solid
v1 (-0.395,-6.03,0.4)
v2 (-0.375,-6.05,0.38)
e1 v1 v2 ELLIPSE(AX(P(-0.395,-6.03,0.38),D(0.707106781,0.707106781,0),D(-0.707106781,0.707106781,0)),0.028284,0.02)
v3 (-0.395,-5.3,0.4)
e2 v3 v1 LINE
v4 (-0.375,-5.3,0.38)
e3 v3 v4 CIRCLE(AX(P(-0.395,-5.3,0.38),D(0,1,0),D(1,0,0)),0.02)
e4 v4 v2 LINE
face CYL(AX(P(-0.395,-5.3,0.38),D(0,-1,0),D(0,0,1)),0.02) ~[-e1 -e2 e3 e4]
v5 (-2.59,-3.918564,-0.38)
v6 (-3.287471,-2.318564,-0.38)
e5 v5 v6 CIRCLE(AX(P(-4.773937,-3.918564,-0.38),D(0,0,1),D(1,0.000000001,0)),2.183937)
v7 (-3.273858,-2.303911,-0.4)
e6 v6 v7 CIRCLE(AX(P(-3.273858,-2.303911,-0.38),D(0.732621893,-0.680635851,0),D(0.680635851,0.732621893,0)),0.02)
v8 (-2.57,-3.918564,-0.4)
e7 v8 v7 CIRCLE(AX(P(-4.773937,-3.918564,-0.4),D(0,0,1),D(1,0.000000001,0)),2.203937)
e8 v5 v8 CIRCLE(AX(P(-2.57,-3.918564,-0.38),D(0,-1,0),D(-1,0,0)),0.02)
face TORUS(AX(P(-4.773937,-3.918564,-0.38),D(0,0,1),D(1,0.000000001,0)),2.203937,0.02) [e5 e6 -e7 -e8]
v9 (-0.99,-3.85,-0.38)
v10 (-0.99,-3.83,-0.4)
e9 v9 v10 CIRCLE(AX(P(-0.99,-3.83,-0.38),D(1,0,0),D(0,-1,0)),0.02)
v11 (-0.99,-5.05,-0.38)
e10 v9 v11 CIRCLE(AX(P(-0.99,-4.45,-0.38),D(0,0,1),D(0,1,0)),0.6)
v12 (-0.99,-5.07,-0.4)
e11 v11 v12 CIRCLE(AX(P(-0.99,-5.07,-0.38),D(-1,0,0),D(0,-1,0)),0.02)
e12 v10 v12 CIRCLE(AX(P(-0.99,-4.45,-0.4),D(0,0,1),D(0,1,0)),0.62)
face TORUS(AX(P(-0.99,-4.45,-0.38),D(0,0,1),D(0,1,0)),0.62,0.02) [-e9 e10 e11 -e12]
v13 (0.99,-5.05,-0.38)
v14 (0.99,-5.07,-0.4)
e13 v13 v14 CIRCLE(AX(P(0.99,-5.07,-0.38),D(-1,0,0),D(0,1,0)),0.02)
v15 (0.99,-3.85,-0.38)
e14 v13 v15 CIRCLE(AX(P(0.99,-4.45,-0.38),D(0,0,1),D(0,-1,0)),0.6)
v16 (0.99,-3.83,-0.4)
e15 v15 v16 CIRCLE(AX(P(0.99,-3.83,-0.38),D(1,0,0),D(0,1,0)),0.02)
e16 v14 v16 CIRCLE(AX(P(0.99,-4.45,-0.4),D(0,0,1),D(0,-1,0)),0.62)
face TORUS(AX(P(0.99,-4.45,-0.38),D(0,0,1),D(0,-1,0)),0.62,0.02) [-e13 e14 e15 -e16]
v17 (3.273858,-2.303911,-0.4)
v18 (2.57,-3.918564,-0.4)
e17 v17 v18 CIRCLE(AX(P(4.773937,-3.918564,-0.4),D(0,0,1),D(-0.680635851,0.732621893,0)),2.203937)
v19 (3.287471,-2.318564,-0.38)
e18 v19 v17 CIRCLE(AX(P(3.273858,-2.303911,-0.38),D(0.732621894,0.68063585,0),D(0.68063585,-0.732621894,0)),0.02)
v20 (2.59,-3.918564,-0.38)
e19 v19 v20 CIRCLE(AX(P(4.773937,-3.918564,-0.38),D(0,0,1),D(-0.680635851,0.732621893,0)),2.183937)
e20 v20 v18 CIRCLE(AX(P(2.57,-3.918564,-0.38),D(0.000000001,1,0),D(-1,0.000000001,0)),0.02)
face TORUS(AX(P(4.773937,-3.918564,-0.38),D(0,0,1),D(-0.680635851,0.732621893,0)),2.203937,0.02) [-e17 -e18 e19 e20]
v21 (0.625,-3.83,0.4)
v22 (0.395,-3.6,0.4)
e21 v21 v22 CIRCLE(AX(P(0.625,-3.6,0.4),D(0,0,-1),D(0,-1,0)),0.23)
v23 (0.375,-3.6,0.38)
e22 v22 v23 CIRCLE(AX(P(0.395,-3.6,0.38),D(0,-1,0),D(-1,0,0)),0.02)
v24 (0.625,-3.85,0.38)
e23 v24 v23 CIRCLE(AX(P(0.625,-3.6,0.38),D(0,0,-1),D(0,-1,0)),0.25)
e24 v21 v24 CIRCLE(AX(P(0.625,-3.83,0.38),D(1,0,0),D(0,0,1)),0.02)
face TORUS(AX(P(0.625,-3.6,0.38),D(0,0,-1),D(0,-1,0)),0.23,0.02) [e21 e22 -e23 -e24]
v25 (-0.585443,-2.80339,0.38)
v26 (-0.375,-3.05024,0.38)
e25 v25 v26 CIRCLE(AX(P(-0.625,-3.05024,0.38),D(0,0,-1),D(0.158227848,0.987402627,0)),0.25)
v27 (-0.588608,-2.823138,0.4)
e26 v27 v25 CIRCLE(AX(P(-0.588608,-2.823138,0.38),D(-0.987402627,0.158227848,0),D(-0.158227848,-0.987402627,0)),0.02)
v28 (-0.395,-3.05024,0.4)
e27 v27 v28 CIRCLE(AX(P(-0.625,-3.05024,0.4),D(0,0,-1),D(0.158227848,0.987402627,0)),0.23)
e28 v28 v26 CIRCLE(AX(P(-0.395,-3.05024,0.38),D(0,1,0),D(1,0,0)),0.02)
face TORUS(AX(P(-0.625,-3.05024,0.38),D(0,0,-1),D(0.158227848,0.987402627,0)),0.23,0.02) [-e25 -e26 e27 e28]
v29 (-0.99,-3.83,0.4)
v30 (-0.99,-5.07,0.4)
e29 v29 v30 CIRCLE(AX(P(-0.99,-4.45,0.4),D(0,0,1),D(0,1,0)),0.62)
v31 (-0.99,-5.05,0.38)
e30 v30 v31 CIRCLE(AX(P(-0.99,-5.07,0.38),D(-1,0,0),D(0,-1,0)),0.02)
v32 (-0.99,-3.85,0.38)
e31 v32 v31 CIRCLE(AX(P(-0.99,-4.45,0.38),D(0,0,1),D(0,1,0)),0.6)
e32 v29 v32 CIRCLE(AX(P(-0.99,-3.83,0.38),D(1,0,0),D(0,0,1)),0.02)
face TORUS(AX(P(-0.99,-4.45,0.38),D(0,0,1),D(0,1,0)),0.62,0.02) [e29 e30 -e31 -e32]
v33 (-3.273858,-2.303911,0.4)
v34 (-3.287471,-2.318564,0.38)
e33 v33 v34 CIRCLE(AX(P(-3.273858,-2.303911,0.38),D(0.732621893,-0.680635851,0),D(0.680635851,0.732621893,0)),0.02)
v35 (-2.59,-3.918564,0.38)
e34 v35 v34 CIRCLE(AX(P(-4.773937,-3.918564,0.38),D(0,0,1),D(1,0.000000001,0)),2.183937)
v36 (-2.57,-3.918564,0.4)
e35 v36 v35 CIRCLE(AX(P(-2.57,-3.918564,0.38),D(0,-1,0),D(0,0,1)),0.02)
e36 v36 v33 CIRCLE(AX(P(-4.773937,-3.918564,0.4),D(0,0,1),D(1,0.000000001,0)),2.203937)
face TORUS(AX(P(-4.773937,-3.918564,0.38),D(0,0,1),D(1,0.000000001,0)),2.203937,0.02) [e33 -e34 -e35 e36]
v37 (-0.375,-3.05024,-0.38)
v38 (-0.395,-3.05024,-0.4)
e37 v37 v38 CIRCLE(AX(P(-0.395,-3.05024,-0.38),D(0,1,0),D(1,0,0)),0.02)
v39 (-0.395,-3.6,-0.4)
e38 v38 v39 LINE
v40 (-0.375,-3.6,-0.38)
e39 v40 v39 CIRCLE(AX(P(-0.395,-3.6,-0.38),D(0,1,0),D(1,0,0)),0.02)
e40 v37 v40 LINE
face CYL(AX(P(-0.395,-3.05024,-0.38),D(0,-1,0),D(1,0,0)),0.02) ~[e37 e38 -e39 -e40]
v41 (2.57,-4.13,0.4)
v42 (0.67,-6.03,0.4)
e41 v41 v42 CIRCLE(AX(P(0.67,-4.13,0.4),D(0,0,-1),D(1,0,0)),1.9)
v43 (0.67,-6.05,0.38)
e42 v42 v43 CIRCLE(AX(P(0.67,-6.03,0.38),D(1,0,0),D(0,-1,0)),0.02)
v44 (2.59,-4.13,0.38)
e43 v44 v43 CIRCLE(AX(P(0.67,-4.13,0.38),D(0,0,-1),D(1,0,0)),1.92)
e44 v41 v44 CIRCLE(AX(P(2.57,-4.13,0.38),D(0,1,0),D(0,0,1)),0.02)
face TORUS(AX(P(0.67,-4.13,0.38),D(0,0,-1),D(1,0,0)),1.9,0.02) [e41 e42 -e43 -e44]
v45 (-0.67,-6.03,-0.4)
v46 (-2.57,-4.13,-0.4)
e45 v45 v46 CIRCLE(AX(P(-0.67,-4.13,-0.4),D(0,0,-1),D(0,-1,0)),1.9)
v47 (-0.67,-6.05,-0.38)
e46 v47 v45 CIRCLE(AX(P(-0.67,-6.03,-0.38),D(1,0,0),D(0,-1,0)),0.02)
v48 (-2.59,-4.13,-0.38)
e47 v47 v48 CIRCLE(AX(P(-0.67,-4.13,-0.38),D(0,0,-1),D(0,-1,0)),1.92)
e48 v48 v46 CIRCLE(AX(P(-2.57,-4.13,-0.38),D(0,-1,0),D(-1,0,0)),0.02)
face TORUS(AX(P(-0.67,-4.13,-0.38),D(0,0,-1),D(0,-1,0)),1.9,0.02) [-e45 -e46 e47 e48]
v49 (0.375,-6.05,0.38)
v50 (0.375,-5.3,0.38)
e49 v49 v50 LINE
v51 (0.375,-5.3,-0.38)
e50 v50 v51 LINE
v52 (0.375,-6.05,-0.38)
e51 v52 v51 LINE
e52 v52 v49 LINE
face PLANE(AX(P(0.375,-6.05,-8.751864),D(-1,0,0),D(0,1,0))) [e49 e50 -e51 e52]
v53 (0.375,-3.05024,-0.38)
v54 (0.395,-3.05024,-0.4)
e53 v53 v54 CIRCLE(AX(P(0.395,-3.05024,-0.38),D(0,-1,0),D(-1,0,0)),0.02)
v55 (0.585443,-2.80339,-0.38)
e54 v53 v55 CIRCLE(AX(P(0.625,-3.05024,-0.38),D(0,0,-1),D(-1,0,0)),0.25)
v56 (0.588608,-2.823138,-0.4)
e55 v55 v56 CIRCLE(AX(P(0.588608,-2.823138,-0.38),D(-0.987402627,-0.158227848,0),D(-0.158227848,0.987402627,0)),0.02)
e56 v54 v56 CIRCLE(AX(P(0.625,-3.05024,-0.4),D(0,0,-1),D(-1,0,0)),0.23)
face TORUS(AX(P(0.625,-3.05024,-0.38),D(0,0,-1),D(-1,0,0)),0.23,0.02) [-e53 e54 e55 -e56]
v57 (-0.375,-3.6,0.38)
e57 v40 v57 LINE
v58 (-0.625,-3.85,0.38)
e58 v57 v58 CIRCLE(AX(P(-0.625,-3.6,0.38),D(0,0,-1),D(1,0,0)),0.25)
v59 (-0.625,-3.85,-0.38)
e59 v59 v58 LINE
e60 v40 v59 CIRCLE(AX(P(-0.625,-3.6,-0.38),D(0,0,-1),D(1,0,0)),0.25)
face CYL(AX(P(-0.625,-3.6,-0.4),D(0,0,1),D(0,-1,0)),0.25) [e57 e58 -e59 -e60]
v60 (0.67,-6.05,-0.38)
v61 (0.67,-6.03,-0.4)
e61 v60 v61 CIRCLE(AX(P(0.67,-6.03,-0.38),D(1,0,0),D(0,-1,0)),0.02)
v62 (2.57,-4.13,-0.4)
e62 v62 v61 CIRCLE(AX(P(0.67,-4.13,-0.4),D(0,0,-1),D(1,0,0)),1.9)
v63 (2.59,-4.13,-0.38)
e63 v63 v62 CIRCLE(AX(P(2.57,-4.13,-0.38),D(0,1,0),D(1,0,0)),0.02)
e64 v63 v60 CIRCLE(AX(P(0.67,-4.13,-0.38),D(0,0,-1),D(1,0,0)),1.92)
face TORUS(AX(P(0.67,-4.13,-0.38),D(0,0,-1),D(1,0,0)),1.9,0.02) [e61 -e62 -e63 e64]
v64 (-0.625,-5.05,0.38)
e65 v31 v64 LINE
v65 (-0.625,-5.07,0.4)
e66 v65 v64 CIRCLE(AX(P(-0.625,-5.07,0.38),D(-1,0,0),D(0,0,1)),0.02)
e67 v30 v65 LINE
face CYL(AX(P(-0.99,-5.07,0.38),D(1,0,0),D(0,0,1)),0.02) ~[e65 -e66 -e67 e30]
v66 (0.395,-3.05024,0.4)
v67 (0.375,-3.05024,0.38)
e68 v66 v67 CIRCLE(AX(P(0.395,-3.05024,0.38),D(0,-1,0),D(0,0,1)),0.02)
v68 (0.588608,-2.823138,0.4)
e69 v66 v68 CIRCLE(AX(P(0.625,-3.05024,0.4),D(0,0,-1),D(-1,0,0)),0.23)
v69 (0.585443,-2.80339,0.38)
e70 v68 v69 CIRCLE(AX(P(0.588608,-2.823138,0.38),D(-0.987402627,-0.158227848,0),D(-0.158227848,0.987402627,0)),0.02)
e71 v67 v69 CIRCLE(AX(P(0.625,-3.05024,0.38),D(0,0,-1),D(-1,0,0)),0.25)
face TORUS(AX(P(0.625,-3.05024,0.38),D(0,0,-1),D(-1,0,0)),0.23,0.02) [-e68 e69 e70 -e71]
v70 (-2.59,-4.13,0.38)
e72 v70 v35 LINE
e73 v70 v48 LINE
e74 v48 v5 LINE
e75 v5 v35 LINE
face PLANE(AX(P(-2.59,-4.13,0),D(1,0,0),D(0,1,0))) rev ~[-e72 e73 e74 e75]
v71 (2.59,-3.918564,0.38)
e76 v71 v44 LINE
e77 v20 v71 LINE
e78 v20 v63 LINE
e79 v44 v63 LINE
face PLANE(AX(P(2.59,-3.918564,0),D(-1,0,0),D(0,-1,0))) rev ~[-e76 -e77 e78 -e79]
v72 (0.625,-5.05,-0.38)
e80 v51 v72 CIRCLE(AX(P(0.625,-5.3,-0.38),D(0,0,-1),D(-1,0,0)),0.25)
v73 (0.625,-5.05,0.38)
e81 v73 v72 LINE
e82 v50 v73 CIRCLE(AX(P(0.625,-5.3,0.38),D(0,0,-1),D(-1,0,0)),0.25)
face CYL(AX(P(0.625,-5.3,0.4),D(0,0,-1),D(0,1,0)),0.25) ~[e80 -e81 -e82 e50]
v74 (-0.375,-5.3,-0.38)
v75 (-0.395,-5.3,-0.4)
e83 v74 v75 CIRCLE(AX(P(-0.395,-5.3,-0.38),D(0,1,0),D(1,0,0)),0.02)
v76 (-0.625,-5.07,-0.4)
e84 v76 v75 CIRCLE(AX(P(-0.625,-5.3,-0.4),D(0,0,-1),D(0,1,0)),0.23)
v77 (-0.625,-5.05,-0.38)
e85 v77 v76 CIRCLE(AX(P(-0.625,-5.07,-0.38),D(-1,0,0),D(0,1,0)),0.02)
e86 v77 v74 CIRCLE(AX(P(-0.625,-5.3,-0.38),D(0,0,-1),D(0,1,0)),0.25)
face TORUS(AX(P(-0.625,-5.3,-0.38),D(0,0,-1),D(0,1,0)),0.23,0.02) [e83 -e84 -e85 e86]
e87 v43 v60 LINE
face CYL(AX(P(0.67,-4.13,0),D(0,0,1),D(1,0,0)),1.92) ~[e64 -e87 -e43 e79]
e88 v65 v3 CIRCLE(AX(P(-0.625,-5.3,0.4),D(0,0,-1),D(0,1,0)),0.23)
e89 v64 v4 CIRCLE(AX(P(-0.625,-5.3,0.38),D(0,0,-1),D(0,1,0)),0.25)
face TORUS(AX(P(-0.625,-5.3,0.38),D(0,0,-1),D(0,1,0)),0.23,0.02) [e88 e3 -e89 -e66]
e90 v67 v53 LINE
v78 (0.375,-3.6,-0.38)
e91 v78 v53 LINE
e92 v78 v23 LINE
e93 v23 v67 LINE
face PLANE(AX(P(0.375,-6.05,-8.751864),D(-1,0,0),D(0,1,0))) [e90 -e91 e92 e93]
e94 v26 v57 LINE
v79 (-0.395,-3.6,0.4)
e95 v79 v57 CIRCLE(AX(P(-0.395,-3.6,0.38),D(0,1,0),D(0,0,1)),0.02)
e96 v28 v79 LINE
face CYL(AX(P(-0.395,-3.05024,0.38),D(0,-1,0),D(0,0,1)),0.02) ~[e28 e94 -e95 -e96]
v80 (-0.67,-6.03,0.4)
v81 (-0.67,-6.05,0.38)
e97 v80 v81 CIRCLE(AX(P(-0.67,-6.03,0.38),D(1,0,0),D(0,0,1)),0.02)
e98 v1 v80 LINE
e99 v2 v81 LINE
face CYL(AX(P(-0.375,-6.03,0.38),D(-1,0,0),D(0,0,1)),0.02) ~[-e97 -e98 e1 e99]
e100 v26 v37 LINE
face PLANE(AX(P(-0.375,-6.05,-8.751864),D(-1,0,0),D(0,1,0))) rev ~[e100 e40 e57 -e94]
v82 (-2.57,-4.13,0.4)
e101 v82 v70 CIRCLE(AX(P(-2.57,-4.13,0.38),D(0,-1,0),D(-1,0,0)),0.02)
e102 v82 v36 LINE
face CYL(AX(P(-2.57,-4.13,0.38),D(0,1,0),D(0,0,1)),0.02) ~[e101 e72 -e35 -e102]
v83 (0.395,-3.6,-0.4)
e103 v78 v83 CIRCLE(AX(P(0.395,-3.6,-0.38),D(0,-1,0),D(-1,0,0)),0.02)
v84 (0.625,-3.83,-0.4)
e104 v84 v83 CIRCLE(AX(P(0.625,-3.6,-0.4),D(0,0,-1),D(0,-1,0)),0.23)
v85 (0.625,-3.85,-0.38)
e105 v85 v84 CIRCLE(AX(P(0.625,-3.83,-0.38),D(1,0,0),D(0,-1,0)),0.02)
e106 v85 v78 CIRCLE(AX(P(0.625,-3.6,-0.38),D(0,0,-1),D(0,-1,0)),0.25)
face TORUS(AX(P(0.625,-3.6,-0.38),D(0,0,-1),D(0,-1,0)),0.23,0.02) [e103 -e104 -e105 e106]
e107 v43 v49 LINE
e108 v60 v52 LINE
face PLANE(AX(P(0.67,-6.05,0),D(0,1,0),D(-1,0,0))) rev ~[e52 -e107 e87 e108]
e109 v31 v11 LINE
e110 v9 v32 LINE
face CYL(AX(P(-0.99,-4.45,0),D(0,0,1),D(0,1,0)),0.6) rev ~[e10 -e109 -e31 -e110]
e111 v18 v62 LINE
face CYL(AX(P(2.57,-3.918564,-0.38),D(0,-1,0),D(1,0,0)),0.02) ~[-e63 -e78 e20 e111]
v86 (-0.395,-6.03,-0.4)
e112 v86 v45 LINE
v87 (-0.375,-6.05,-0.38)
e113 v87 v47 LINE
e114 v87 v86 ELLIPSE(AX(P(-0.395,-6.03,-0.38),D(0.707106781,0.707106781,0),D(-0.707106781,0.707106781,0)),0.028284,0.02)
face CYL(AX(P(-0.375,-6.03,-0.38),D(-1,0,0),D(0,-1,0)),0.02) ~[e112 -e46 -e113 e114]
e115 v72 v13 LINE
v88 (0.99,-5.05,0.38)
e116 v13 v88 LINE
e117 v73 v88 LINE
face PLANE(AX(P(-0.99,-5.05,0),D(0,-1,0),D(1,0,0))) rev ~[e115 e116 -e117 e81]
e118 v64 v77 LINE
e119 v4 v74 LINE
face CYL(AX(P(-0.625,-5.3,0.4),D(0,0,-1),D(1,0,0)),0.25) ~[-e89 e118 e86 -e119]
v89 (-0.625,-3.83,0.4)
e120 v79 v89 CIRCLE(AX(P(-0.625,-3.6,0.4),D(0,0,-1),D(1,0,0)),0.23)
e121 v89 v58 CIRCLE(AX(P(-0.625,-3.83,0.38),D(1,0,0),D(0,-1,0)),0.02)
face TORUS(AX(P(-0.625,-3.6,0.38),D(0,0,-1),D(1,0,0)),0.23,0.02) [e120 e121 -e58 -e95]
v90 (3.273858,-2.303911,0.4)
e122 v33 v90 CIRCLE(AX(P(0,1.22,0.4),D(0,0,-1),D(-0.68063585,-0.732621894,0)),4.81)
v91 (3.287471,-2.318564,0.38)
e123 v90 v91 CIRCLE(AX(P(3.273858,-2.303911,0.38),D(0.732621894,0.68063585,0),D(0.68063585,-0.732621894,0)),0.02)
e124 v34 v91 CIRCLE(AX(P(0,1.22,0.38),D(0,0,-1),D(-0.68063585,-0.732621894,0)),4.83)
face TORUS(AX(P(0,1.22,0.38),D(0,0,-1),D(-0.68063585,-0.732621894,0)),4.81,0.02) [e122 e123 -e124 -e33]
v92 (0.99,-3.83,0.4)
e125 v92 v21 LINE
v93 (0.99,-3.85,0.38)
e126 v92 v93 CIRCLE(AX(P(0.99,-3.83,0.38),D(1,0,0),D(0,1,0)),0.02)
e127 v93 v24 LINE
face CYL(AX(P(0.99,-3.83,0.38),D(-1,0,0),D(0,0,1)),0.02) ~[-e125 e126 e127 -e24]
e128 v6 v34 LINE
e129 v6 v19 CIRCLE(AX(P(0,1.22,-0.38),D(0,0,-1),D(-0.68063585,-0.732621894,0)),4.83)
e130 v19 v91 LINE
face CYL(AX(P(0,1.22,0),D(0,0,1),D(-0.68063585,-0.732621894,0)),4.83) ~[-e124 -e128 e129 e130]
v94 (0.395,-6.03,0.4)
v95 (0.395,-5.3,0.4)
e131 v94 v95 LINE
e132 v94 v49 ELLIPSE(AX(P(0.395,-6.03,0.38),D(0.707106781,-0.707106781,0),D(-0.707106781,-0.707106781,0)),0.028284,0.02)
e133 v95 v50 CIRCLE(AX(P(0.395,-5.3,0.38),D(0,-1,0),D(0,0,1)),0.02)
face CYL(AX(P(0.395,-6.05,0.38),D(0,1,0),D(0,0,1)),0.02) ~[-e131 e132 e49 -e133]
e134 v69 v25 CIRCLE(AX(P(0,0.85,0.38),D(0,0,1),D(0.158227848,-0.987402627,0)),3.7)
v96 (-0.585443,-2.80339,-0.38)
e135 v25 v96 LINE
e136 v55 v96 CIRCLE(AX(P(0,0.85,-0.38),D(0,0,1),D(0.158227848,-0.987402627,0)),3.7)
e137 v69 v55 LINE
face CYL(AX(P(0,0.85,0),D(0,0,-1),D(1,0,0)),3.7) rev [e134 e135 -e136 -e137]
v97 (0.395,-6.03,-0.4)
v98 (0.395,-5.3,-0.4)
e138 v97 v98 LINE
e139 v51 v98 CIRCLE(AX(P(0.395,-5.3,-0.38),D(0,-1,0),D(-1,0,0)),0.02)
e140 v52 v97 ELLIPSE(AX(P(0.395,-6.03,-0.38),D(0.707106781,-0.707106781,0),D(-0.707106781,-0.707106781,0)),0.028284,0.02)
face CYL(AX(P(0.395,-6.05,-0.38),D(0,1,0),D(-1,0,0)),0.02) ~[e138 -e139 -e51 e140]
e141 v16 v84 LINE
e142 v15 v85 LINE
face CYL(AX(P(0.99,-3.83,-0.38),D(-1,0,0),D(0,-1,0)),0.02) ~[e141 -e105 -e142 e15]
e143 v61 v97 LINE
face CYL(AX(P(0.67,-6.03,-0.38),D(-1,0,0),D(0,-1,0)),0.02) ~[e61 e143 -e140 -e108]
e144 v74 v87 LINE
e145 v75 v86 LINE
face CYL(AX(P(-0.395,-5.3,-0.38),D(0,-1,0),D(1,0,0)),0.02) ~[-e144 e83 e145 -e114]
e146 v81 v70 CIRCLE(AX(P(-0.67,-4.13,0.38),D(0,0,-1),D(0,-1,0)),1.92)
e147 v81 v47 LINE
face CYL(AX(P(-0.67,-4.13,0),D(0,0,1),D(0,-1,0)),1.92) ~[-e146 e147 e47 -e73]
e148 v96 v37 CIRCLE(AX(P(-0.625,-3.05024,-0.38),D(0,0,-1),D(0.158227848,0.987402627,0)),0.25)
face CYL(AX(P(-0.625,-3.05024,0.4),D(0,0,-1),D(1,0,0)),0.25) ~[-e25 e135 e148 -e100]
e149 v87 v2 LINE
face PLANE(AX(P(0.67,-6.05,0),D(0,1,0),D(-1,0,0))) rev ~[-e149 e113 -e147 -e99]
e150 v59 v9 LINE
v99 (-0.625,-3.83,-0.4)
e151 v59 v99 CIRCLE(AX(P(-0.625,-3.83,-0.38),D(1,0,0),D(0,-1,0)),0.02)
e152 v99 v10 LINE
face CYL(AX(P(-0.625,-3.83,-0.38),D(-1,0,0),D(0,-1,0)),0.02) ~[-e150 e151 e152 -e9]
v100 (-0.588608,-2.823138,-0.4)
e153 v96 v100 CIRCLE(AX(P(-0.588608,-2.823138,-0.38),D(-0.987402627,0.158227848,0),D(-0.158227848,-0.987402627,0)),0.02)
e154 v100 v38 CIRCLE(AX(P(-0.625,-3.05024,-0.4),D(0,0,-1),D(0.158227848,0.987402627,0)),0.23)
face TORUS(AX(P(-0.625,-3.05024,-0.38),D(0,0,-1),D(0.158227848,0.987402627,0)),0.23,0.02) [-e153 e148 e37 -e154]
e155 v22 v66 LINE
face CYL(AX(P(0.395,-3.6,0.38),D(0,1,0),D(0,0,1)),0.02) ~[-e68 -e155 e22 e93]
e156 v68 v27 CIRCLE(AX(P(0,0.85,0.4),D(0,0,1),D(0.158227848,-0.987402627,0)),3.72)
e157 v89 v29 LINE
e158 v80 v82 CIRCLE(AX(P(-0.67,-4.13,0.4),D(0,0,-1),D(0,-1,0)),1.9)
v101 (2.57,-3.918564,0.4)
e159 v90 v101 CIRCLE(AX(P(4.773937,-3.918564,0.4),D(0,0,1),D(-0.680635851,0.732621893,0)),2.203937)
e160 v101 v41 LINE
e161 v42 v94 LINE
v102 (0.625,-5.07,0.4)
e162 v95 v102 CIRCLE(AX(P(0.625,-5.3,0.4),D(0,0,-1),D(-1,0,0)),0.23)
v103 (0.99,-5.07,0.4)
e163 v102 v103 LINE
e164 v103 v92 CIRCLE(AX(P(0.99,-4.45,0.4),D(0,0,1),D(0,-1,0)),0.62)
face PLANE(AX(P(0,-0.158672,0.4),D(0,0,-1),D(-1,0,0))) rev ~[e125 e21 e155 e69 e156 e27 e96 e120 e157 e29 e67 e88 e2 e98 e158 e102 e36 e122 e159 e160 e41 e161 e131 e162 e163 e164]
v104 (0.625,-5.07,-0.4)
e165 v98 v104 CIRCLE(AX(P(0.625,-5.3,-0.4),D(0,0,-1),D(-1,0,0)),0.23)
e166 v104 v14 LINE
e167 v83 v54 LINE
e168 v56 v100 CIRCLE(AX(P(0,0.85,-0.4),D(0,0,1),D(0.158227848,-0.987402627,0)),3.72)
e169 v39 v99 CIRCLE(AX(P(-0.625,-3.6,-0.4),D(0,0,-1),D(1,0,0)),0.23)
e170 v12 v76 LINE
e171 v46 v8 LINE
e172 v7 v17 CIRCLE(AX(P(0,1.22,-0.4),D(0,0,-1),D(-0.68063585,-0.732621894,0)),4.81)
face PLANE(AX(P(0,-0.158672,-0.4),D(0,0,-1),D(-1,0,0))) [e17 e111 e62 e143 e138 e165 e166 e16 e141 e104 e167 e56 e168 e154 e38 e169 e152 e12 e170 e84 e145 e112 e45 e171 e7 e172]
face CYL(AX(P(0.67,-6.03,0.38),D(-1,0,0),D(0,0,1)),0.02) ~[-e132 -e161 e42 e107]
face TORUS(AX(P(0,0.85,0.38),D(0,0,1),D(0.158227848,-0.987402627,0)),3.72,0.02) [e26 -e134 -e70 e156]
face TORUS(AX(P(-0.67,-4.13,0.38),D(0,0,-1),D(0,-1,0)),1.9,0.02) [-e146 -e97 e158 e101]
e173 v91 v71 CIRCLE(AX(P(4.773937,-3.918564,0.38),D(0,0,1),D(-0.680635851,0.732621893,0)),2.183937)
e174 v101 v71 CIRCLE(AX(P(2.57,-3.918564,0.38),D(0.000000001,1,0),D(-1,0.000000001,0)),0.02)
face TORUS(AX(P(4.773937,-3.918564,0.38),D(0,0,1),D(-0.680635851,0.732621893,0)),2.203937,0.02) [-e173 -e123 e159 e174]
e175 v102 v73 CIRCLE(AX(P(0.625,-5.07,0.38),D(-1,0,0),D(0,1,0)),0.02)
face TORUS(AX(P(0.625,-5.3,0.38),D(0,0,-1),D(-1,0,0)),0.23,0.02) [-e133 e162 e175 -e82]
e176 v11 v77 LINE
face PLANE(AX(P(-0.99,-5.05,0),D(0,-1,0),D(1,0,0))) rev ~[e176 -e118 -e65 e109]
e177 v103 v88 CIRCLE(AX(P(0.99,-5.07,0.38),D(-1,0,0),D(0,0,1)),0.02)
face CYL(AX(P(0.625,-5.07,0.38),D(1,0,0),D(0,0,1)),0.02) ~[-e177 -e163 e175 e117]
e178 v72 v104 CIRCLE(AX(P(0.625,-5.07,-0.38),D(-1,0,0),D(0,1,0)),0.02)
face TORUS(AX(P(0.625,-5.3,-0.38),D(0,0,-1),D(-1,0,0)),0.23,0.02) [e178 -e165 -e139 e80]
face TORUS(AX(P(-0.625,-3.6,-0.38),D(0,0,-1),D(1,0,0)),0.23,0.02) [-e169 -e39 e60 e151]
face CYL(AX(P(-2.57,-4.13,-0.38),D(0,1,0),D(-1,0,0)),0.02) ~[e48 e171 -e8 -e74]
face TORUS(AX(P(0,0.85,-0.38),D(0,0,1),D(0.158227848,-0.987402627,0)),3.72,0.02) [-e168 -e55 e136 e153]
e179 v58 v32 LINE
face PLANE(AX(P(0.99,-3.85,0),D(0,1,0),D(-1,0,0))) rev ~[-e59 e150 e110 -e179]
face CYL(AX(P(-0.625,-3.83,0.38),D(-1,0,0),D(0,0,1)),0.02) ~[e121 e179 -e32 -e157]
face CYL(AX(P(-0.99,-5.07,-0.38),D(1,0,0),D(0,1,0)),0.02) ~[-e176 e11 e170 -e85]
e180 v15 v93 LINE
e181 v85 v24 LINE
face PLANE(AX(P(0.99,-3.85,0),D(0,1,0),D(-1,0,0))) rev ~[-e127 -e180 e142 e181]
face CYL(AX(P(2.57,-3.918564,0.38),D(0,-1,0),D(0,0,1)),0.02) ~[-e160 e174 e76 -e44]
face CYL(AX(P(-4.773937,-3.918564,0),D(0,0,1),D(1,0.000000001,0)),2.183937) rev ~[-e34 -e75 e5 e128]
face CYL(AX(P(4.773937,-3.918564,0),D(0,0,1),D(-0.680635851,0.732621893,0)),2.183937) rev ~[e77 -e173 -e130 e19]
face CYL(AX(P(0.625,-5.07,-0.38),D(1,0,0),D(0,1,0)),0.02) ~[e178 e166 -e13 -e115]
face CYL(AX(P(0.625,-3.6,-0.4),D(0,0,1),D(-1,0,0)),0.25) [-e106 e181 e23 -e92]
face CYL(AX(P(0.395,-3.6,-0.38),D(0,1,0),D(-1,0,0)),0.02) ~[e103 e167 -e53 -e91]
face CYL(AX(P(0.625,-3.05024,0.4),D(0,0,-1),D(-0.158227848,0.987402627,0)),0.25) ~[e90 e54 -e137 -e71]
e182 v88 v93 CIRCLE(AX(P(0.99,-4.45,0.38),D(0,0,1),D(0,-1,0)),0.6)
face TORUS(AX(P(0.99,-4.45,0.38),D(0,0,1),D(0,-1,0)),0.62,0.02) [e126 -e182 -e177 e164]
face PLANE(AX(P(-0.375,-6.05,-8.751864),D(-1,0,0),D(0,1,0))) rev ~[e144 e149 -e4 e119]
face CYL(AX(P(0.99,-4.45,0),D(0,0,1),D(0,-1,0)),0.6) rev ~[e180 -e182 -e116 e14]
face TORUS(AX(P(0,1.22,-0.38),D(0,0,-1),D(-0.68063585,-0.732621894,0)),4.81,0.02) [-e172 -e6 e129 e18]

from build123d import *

# Parameters (mm, degrees)
SKETCH3_R                    = 3.7
BOSS_EXTRUDE1_DEPTH          = 0.4
CUT_EXTRUDE_THIN1_DEPTH      = 8.751864292
CUT_EXTRUDE_THIN1_DEPTH_BACK = 8.751864292
SKETCH4_W                    = 0.75
SKETCH4_H                    = 6.9
FILLET2_R                    = 0.25
FILLET1_R                    = 0.02


with BuildPart() as part:
    # Sketch3 → Boss-Extrude1 (new, symmetric)
    with BuildSketch(Plane.XY):
        with BuildLine():
            Line((2.59, -3.918563747), (2.59, -4.13))
            ThreePointArc((2.59, -4.13), (2.02764502, -5.48764502), (0.67, -6.05))
            Line((0.67, -6.05), (-0.67, -6.05))
            ThreePointArc((-0.67, -6.05), (-2.02764502, -5.48764502), (-2.59, -4.13))
            Line((-2.59, -4.13), (-2.59, -3.918563747))
            ThreePointArc((-2.59, -3.918563747), (-2.771946919, -3.045857323), (-3.287471157, -2.318563747))
            ThreePointArc((-3.287471157, -2.318563747), (0, 6.05), (3.287471157, -2.318563747))
            ThreePointArc((3.287471157, -2.318563747), (2.771946919, -3.045857323), (2.59, -3.918563747))
        make_face()
        with Locations((0, 0.85)):
            Circle(SKETCH3_R, mode=Mode.SUBTRACT)
        with BuildLine():
            Line((-0.99, -5.05), (0.99, -5.05))
            ThreePointArc((0.99, -5.05), (1.59, -4.45), (0.99, -3.85))
            Line((0.99, -3.85), (-0.99, -3.85))
            ThreePointArc((-0.99, -3.85), (-1.59, -4.45), (-0.99, -5.05))
        make_face(mode=Mode.SUBTRACT)
    extrude(amount=BOSS_EXTRUDE1_DEPTH, both=True)

    # Sketch4 → Cut-Extrude-Thin1 (cut, two sides: drawn at the far end of the back side and taken through both)
    with BuildSketch(Plane.XY.offset(-CUT_EXTRUDE_THIN1_DEPTH_BACK)):
        with Locations((0, -2.6)):
            Rectangle(SKETCH4_W, SKETCH4_H)
    extrude(amount=CUT_EXTRUDE_THIN1_DEPTH + CUT_EXTRUDE_THIN1_DEPTH_BACK, mode=Mode.SUBTRACT)

    # Fillet2
    fillet2_edges = [part.edges().sort_by_distance(p)[0] for p in [
        (0.375, -2.830947568, 0),
        (-0.375, -2.830947568, 0),
        (-0.375, -5.05, 0),
        (-0.375, -3.85, 0),
        (0.375, -5.05, 0),
        (0.375, -3.85, 0),
    ]]
    fillet(fillet2_edges, radius=FILLET2_R)

    # Fillet1
    fillet1_edges = [part.edges().sort_by_distance(p)[0] for p in [
        (-2.02764502, -5.48764502, 0.4),
        (-2.59, -4.024281874, -0.4),
        (-2.771946919, -3.045857323, -0.4),
        (-0.5225, -6.05, 0.4),
        (2.02764502, -5.48764502, 0.4),
        (2.59, -4.024281874, 0.4),
        (2.771946919, -3.045857323, 0.4),
        (-1.59, -4.45, -0.4),
        (-0.8075, -5.05, -0.4),
        (1.59, -4.45, -0.4),
        (0.8075, -3.85, -0.4),
        (0, 6.05, 0.4),
        (-1.59, -4.45, 0.4),
        (-0.8075, -5.05, 0.4),
        (1.59, -4.45, 0.4),
        (0.8075, -3.85, 0.4),
        (-2.771946919, -3.045857323, 0.4),
        (0.5225, -6.05, -0.4),
        (0.5225, -6.05, 0.4),
        (-2.59, -4.024281874, 0.4),
        (0, 6.05, -0.4),
        (0.8075, -5.05, -0.4),
        (0.8075, -5.05, 0.4),
        (-0.375, -5.675, 0.4),
        (-0.8075, -3.85, 0.4),
        (-0.375, -3.325120189, 0.4),
        (0, 4.55, 0.4),
        (0.375, -3.325120189, 0.4),
        (2.771946919, -3.045857323, -0.4),
        (0.375, -5.675, 0.4),
        (-0.434751162, -2.888051044, 0.4),
        (-0.448223305, -3.776776695, 0.4),
        (0.434751162, -2.888051044, 0.4),
        (0.448223305, -3.776776695, 0.4),
        (-0.448223305, -5.123223305, 0.4),
        (0.448223305, -5.123223305, 0.4),
        (0.375, -5.675, -0.4),
        (2.59, -4.024281874, -0.4),
        (-0.375, -5.675, -0.4),
        (0.375, -3.325120189, -0.4),
        (0, 4.55, -0.4),
        (-0.375, -3.325120189, -0.4),
        (-0.8075, -3.85, -0.4),
        (-0.434751162, -2.888051044, -0.4),
        (-0.448223305, -3.776776695, -0.4),
        (2.02764502, -5.48764502, -0.4),
        (0.434751162, -2.888051044, -0.4),
        (0.448223305, -3.776776695, -0.4),
        (-0.448223305, -5.123223305, -0.4),
        (0.448223305, -5.123223305, -0.4),
        (-0.5225, -6.05, -0.4),
        (-2.02764502, -5.48764502, -0.4),
    ]]
    fillet(fillet1_edges, radius=FILLET1_R)


solid = part.part
